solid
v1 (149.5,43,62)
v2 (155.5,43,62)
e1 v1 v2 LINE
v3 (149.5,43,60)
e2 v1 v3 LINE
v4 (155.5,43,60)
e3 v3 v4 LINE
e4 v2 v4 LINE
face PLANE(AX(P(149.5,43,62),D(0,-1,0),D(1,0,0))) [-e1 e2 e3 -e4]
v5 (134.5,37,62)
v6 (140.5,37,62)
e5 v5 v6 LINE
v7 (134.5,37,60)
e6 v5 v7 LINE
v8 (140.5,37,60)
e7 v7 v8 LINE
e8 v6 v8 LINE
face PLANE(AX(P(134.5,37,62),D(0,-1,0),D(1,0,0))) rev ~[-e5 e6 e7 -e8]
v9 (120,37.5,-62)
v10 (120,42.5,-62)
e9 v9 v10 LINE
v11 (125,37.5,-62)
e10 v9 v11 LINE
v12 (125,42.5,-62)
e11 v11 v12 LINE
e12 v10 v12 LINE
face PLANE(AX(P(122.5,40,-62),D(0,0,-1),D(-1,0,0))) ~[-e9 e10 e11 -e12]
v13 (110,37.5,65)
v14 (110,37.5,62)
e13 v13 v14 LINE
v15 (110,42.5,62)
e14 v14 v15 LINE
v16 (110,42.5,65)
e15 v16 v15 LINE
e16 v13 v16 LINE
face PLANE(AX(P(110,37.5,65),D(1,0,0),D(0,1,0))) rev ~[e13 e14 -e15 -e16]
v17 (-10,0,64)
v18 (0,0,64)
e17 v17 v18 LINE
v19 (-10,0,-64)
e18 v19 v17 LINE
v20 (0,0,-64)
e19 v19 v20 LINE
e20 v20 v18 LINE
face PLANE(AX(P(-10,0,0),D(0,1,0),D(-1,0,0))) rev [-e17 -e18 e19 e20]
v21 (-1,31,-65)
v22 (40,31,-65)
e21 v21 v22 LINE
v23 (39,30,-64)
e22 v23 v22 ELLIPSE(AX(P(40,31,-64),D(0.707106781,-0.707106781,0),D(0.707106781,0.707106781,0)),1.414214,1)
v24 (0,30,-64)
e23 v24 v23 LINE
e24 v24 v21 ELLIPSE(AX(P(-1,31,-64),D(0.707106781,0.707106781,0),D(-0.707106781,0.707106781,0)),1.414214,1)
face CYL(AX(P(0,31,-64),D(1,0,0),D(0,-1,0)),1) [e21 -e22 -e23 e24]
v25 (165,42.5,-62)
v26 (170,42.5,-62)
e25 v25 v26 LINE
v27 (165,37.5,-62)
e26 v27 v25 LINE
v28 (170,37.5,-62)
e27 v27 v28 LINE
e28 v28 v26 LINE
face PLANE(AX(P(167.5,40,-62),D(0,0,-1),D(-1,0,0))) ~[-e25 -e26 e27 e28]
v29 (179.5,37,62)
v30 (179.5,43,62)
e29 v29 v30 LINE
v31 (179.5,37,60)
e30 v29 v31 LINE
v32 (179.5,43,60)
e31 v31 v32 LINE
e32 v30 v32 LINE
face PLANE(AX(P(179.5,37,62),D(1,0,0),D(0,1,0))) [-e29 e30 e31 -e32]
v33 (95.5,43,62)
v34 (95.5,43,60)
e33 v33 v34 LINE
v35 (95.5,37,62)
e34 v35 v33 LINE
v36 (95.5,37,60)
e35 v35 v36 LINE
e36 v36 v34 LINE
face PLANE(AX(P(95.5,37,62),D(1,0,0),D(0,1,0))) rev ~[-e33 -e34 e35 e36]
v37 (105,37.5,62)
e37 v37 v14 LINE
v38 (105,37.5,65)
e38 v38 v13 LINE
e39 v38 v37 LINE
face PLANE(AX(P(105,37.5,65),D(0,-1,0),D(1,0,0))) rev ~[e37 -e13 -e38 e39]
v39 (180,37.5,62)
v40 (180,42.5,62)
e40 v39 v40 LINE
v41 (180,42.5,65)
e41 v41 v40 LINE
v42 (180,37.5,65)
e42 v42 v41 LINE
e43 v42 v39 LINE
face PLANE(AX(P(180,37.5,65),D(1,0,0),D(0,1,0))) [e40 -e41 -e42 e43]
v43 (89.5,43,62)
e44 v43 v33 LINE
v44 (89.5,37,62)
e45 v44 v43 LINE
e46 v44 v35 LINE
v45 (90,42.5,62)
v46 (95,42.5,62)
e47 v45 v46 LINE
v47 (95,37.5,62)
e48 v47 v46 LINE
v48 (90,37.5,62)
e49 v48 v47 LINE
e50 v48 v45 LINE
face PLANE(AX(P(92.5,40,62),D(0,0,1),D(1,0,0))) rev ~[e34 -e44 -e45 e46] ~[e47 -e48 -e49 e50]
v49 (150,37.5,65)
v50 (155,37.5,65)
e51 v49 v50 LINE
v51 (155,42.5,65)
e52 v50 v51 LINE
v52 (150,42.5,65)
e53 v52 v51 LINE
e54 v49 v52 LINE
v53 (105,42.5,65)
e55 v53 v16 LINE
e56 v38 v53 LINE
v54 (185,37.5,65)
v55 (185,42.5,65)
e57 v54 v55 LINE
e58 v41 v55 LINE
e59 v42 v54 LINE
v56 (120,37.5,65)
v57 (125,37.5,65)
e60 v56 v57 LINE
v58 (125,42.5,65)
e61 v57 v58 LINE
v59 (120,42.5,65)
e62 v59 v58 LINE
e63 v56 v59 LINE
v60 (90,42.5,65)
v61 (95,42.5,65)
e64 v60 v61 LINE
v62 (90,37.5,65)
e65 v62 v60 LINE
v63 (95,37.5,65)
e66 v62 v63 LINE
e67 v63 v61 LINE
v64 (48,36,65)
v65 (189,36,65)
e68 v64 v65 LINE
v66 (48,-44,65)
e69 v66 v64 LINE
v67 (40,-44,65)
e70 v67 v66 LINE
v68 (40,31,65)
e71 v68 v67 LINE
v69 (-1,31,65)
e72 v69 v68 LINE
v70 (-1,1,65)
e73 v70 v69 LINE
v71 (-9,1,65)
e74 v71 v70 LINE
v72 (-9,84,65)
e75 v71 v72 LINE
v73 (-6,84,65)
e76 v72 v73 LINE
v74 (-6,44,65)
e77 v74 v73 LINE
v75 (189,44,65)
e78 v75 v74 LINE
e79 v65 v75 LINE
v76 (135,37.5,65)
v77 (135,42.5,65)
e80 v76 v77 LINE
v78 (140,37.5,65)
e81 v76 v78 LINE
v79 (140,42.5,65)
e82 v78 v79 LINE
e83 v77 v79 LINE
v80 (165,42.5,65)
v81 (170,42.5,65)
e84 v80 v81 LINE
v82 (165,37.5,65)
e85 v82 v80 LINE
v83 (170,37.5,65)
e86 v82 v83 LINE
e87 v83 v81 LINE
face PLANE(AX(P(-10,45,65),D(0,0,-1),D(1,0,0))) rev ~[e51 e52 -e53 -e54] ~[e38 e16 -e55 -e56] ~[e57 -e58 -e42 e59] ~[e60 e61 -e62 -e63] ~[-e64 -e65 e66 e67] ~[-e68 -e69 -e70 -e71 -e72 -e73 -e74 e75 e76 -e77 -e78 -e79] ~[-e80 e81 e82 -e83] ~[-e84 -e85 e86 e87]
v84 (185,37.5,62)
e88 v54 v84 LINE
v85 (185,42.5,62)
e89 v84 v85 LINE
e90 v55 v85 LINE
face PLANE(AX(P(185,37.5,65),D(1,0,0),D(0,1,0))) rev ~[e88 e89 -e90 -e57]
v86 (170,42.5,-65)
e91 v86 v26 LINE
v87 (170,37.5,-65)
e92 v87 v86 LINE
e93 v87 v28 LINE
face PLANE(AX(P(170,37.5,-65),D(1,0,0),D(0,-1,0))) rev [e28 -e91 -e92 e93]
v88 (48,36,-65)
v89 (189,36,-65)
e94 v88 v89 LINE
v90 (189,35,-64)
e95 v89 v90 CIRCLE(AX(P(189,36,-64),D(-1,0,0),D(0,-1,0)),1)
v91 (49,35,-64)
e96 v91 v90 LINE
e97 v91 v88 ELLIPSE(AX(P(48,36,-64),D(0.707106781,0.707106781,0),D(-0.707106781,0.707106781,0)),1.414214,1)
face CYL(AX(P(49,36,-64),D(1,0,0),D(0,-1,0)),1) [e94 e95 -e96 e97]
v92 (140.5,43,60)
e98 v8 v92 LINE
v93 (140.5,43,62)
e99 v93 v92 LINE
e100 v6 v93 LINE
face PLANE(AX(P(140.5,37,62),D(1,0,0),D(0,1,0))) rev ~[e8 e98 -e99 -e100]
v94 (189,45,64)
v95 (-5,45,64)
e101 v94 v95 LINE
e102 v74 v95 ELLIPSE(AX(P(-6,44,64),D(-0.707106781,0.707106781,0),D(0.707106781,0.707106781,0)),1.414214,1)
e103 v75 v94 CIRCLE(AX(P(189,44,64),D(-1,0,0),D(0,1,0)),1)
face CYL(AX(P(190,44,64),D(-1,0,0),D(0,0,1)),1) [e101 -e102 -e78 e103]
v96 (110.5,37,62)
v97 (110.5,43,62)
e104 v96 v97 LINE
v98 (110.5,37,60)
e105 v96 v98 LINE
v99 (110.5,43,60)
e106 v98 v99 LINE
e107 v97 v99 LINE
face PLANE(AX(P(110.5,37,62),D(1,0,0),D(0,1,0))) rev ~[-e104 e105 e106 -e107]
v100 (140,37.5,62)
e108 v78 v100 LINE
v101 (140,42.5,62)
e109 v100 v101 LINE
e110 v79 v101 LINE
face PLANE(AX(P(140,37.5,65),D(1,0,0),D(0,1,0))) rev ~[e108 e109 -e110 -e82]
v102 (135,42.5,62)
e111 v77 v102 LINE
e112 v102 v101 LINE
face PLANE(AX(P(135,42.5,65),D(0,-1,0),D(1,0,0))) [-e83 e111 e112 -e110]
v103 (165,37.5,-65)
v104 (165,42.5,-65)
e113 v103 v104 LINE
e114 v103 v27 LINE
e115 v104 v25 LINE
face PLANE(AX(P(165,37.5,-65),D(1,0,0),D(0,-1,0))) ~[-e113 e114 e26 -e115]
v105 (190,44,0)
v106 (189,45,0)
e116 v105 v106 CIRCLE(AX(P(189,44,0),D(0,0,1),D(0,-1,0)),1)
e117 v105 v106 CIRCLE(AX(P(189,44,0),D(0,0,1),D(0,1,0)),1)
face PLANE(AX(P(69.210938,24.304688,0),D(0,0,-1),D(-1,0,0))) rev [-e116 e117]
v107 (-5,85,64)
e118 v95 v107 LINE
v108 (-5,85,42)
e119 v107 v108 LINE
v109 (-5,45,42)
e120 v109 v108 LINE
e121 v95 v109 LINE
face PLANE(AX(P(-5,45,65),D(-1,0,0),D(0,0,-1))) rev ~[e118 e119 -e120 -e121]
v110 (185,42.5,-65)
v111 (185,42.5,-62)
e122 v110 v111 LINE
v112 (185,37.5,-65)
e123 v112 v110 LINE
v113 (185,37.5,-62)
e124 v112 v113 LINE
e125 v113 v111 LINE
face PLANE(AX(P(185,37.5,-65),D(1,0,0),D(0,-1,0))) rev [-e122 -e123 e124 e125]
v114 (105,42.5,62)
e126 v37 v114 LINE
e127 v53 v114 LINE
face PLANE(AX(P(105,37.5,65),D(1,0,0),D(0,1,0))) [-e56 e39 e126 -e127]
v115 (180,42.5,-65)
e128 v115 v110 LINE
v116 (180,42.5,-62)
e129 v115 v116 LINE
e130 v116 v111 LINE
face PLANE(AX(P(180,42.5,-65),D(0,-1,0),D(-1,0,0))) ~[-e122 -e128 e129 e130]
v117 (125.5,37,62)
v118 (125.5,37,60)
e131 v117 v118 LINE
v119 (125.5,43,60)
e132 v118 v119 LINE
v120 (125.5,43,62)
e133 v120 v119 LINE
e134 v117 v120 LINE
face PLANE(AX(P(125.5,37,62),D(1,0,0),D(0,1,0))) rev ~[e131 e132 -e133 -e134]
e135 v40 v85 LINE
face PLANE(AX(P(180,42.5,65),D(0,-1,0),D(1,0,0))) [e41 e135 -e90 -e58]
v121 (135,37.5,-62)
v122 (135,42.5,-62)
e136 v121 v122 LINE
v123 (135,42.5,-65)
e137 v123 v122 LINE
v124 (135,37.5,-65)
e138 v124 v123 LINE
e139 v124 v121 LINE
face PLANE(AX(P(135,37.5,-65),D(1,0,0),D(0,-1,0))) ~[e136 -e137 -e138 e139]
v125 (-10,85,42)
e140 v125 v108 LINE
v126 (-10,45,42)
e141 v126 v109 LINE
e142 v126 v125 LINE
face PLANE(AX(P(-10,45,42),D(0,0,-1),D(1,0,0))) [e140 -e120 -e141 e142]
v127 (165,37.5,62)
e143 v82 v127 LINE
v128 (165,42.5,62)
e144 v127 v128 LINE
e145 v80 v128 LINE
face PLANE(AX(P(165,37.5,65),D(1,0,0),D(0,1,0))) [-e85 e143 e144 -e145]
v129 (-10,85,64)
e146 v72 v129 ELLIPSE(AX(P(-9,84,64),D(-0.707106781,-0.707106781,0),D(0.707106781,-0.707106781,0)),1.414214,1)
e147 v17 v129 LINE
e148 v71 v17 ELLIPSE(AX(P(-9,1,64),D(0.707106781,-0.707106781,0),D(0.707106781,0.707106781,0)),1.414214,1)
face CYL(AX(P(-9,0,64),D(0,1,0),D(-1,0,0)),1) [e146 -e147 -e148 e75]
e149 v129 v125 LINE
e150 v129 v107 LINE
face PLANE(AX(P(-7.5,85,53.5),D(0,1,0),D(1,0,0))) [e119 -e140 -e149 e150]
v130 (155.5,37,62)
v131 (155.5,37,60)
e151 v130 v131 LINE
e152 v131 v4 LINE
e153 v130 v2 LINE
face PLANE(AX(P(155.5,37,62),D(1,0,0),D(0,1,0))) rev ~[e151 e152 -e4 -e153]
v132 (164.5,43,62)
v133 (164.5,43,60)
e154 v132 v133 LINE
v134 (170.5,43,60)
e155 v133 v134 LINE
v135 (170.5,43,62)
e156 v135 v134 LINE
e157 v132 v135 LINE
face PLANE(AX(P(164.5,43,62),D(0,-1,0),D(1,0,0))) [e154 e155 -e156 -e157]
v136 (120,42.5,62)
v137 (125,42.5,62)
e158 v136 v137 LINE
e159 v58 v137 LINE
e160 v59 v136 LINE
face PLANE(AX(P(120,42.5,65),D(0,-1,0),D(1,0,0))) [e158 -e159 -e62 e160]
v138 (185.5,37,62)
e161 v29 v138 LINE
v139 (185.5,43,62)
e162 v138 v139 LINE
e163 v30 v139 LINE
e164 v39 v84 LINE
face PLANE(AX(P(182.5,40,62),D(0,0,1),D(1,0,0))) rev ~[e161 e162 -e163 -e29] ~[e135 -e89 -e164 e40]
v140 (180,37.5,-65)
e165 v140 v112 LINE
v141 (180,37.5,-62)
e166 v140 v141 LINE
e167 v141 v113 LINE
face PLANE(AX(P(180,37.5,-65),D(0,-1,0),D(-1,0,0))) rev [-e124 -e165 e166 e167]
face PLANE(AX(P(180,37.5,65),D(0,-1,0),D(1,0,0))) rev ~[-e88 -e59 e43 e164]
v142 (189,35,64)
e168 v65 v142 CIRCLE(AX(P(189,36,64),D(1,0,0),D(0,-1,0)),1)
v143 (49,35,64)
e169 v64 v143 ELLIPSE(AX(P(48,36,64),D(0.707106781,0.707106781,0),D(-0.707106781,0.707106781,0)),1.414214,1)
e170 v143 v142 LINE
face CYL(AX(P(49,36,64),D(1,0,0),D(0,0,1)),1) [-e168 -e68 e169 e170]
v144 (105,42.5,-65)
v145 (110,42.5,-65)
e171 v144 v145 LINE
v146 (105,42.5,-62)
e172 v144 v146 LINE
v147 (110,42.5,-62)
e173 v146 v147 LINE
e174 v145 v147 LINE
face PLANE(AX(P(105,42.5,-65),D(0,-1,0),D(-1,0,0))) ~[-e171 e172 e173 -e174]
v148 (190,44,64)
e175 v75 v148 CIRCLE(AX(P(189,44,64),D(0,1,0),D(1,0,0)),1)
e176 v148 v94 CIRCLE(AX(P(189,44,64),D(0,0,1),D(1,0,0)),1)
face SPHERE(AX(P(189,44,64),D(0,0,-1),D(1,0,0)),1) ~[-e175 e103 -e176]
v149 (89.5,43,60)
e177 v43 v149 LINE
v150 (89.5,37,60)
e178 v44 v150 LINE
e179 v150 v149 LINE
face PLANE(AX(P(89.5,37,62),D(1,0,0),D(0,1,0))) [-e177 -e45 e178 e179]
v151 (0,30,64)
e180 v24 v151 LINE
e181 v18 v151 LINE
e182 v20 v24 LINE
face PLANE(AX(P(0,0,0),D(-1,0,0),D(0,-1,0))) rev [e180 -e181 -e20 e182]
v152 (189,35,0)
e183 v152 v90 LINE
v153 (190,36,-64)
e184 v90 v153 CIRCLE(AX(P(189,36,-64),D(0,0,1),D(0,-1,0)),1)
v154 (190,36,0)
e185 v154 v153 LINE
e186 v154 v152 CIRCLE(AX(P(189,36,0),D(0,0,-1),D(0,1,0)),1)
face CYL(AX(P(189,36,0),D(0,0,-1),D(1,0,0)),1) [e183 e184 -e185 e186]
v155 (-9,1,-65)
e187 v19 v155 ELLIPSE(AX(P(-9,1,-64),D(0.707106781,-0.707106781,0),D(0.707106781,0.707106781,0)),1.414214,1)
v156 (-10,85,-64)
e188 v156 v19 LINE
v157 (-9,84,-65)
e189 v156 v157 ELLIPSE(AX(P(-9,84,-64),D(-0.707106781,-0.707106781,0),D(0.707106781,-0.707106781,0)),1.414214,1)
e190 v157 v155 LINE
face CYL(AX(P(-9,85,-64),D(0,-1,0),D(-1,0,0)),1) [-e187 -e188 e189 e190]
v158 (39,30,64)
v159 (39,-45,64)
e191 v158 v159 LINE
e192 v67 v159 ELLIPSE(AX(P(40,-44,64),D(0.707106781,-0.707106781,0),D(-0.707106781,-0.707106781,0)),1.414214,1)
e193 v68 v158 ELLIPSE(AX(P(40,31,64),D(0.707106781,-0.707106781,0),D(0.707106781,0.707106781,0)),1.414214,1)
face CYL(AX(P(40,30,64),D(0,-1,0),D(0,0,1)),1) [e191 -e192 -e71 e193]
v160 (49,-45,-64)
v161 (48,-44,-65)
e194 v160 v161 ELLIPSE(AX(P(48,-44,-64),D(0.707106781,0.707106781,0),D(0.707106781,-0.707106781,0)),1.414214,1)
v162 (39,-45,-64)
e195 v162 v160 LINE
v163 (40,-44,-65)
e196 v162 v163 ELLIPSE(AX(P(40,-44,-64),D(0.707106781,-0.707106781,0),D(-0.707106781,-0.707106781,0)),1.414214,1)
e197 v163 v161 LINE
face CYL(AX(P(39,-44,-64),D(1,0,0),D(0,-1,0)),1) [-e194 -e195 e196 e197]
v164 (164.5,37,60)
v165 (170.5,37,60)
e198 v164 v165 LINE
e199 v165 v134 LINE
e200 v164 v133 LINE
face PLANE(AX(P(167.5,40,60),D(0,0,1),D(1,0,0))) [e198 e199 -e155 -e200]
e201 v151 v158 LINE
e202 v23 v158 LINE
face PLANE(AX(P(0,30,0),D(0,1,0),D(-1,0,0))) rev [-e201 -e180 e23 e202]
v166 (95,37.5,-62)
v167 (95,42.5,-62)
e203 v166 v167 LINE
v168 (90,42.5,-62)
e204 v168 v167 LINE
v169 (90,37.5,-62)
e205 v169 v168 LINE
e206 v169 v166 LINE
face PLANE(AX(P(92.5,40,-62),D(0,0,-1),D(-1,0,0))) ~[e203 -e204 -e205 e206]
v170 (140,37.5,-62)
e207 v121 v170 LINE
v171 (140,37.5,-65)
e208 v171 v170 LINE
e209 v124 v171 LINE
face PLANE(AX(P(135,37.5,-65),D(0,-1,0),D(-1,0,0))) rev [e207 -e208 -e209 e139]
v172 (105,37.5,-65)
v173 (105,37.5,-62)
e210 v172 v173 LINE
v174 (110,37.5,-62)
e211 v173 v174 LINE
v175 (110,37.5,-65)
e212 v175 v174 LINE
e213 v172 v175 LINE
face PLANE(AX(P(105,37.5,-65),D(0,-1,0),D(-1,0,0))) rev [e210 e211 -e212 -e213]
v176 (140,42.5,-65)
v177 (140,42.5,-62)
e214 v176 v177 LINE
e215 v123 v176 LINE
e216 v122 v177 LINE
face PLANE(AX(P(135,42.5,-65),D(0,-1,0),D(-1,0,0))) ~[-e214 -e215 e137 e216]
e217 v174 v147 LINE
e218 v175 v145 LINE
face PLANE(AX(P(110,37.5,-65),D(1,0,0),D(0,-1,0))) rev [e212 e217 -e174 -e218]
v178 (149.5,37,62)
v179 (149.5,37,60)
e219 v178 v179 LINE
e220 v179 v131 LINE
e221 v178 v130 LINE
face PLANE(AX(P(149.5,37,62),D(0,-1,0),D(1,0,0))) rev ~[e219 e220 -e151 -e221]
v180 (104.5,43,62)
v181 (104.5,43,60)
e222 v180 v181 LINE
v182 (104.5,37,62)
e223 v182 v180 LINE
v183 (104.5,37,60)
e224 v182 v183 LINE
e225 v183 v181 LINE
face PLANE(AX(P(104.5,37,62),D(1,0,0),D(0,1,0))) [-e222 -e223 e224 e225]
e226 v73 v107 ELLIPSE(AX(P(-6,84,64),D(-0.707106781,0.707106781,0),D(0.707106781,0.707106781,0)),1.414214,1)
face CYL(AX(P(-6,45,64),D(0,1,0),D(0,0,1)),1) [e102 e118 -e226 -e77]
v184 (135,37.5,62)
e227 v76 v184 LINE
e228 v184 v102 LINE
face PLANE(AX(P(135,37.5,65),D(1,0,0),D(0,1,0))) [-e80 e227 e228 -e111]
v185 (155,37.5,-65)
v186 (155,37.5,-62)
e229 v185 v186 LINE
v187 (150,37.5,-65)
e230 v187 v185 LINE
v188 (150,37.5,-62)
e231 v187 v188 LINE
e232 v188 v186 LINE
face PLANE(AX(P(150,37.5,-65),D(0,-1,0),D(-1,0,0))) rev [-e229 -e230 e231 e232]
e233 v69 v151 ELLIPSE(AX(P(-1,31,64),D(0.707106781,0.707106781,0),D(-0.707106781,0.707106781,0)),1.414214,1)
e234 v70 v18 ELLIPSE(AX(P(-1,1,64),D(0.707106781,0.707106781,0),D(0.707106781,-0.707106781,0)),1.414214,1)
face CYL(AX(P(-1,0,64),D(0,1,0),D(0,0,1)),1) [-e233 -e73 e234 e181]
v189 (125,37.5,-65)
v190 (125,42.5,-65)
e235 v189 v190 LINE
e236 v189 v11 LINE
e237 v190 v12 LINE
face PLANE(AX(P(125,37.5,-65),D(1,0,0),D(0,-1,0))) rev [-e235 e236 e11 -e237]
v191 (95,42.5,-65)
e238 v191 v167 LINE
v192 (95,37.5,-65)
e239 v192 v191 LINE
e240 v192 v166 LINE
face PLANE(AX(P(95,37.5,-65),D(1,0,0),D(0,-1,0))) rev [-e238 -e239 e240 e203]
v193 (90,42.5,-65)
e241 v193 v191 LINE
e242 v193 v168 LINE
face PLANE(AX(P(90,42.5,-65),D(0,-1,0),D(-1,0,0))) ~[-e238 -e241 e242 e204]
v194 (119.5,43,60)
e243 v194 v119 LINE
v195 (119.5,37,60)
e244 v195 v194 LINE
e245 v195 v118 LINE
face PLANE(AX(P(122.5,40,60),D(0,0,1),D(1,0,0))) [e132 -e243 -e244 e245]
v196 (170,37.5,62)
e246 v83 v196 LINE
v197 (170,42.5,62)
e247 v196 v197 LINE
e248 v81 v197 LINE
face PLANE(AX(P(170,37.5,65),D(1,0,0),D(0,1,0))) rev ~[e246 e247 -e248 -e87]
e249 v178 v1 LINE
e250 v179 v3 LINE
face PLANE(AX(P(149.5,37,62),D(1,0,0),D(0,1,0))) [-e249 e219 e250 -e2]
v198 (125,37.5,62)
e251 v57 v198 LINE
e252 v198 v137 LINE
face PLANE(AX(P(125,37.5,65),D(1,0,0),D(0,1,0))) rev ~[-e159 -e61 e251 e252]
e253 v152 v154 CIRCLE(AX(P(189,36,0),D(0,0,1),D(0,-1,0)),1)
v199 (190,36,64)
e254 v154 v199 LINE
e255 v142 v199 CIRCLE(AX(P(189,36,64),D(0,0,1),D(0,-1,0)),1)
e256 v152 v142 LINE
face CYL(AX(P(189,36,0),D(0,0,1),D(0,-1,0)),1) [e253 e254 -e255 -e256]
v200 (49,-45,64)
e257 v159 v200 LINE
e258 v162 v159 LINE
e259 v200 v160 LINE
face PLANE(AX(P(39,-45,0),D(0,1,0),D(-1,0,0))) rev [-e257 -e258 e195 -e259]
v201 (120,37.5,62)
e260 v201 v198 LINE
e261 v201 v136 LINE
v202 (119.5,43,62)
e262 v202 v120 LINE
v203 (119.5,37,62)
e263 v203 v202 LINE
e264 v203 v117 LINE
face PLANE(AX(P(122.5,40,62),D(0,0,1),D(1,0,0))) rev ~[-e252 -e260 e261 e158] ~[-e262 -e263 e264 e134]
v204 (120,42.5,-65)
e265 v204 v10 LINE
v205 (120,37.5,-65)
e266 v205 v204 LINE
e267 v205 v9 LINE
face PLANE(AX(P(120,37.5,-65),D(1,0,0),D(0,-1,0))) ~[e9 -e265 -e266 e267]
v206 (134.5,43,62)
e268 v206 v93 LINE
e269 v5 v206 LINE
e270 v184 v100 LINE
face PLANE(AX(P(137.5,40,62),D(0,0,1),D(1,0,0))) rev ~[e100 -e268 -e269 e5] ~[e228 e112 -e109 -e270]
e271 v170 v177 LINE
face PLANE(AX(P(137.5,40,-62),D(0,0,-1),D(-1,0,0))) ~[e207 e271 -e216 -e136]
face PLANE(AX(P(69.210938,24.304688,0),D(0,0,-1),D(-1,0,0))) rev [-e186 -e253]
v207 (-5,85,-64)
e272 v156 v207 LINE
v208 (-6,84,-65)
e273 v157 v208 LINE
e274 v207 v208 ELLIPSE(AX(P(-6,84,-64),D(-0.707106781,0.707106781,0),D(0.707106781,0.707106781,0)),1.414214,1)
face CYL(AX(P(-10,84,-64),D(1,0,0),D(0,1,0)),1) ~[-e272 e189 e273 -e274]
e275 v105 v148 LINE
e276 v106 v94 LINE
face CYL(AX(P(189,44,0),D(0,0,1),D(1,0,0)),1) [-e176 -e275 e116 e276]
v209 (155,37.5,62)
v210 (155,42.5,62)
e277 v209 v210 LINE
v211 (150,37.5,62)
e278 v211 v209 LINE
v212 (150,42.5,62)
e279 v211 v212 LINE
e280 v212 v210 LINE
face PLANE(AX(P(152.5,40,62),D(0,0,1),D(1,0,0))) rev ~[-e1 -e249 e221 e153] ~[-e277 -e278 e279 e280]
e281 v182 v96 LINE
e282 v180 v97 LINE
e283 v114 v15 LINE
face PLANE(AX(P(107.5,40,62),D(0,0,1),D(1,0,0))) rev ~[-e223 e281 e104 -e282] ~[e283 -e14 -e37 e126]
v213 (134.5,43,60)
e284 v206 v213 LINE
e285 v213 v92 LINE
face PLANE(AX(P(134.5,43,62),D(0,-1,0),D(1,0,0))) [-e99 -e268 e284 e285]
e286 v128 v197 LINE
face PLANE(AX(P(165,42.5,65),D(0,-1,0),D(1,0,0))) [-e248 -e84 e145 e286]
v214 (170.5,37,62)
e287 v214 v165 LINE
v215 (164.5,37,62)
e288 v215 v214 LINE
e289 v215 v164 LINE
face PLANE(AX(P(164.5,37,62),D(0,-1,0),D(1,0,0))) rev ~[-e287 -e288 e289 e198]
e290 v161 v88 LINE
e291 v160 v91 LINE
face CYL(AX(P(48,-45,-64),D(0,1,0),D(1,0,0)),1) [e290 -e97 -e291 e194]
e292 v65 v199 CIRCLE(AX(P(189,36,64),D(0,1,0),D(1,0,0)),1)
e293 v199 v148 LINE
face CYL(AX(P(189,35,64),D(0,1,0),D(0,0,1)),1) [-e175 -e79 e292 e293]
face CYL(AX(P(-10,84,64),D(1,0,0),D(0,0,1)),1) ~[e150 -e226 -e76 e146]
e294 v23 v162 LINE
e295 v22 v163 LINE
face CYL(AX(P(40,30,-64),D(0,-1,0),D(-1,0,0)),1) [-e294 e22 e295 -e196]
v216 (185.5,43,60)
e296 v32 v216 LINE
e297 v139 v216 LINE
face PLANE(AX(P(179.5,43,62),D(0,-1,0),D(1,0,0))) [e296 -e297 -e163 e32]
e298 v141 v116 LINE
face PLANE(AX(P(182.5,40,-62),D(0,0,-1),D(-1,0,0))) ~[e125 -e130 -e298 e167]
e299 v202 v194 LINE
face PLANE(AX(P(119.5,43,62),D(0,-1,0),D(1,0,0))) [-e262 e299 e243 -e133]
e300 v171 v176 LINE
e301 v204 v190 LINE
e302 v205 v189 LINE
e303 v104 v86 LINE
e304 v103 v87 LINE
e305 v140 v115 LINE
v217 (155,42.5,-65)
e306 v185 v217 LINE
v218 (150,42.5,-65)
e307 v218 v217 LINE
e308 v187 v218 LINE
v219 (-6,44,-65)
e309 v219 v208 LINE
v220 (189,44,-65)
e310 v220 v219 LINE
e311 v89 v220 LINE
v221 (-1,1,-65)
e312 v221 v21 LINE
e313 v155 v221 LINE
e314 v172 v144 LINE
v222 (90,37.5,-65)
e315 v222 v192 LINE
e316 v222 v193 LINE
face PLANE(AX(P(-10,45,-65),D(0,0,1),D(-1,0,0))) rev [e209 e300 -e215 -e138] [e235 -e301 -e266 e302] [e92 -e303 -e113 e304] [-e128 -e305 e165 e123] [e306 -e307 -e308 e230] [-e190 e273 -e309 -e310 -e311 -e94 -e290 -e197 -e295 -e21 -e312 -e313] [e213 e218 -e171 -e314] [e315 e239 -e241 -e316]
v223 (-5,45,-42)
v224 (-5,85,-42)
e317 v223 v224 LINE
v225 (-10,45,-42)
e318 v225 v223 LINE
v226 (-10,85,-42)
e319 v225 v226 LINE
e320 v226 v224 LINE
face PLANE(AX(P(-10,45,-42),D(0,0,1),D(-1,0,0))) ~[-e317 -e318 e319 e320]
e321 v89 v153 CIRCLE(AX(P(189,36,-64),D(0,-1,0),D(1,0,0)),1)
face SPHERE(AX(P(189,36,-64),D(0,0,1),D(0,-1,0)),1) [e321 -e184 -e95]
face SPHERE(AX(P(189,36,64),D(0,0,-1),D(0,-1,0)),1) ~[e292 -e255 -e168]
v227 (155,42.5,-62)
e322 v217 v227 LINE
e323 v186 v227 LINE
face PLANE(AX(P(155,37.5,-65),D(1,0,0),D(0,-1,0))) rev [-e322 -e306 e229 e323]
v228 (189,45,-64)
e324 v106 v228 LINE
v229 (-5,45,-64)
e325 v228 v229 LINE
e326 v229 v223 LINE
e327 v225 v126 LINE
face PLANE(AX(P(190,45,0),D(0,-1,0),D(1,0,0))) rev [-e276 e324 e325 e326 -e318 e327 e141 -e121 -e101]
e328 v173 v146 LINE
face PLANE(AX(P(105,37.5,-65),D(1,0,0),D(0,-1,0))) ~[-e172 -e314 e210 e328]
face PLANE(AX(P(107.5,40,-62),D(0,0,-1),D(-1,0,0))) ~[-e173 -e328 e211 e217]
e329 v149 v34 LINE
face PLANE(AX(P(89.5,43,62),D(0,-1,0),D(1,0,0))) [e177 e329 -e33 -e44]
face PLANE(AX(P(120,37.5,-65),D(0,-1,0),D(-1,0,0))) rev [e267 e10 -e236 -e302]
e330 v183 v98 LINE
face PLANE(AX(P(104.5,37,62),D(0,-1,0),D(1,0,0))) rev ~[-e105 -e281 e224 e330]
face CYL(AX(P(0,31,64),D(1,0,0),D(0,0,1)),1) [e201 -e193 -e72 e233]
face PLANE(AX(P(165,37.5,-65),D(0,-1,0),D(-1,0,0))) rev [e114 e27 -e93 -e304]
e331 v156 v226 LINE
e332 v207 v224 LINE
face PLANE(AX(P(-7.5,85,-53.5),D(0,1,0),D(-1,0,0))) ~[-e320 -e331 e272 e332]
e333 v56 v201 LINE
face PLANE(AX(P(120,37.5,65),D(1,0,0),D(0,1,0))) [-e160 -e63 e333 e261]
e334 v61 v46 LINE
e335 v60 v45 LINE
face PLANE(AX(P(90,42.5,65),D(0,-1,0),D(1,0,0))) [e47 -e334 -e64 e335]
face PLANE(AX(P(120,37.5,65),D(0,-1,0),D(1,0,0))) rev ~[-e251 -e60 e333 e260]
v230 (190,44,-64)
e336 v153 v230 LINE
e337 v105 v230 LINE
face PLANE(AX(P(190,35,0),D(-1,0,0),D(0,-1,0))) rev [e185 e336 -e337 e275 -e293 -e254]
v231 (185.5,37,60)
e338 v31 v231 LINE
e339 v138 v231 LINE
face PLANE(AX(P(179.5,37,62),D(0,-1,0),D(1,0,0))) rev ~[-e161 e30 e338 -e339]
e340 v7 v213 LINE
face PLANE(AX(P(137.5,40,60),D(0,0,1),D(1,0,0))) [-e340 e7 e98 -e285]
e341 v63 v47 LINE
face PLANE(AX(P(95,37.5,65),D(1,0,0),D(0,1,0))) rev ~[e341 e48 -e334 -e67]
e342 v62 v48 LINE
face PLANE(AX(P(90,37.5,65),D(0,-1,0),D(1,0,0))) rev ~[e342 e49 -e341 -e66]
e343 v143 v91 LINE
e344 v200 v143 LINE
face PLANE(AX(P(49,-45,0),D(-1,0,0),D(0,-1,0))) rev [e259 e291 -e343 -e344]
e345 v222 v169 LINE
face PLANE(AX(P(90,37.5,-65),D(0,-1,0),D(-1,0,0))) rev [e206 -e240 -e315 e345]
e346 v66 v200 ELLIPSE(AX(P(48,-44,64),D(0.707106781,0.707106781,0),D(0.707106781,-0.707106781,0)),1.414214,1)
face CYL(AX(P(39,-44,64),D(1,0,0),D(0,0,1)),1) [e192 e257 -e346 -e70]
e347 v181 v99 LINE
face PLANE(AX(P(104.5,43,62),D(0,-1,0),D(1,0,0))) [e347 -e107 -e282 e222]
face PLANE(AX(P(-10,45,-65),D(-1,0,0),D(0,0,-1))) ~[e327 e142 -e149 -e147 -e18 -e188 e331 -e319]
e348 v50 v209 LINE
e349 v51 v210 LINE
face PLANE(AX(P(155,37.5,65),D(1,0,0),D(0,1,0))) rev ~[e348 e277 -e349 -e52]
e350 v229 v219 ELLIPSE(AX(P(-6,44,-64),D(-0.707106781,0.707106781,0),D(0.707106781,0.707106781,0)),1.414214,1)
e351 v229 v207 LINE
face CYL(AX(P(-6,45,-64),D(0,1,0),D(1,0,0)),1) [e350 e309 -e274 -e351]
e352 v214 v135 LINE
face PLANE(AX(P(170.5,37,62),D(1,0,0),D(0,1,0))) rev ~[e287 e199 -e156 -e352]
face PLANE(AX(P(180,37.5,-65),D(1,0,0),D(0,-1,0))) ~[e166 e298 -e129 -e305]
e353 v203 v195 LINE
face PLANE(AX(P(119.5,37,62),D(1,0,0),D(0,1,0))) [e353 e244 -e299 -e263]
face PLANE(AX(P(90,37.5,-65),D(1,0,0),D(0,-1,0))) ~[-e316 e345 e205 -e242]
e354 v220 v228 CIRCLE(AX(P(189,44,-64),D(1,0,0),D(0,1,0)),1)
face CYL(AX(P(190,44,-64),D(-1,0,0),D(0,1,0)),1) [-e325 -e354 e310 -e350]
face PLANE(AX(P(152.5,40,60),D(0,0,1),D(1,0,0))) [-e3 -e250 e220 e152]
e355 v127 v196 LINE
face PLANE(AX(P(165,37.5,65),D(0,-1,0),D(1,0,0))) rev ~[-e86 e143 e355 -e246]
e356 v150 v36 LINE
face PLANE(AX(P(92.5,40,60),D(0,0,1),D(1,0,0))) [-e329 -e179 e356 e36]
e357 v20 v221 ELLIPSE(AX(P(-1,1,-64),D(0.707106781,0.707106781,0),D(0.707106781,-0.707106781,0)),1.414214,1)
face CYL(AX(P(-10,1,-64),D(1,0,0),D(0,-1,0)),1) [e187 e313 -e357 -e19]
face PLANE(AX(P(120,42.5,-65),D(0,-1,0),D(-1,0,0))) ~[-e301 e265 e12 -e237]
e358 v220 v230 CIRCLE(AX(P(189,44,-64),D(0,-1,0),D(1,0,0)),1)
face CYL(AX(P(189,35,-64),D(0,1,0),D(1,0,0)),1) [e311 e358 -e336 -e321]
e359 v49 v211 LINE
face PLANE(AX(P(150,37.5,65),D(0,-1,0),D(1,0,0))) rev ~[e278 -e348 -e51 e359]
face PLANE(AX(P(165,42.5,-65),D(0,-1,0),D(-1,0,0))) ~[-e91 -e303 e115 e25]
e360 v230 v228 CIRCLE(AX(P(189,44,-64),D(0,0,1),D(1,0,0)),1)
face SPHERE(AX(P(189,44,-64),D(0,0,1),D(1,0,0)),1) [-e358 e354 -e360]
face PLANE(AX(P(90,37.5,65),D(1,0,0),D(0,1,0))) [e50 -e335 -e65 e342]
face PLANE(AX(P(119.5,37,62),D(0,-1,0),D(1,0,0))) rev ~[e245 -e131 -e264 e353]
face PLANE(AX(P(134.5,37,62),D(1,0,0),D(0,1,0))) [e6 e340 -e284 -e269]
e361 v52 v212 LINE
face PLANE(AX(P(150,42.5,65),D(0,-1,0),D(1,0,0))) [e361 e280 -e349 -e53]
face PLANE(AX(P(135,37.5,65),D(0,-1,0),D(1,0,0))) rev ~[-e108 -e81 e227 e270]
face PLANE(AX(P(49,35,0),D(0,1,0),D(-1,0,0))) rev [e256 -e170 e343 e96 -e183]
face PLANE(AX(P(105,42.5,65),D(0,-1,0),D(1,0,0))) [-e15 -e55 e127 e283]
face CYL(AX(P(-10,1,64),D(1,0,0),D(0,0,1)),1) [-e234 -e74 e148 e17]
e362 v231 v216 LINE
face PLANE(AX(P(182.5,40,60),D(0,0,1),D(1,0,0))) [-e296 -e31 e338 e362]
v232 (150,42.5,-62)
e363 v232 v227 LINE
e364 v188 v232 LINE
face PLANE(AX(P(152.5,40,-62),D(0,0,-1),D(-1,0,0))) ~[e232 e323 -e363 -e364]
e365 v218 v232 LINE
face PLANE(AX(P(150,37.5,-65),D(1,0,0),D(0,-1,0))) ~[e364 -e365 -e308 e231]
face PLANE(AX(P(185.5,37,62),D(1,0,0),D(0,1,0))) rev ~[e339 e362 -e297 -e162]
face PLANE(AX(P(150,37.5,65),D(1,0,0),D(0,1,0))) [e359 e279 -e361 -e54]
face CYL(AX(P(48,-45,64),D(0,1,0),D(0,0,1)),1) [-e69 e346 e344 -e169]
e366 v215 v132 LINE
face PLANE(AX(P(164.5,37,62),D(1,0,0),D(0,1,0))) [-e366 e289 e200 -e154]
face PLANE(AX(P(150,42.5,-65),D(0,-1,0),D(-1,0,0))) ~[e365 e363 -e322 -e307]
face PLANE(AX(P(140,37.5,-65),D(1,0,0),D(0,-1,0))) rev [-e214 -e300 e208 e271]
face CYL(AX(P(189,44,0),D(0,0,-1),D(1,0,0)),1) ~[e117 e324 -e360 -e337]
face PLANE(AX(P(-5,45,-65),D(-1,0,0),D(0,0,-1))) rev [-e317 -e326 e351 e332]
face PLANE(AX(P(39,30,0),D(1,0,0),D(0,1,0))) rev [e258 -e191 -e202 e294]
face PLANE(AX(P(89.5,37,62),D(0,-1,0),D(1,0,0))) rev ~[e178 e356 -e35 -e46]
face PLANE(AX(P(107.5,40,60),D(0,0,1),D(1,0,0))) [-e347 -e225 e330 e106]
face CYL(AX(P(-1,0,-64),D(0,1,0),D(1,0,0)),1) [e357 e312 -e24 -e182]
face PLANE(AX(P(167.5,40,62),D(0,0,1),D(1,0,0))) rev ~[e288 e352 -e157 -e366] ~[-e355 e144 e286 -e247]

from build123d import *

# Parameters (mm, degrees)
EXTRUDE_1_DEPTH        = 65
SKETCH_5_W             = 5
SKETCH_5_H             = 5
CUT_EXTRUDE_1_DEPTH    = 3
SKETCH_7_W             = 5
SKETCH_7_H             = 23
EXTRUDE_2_DEPTH        = 40
FILLET_1_R             = 1
SKETCH_8_W             = 6
SKETCH_8_H             = 6
CUT_EXTRUDE_2_DEPTH    = 2
FILLET_1_OF_MIRROR_3_R = 1


with BuildPart() as part:
    # 草图1 → 凸台-拉伸1 (new body)
    with BuildSketch(Plane.XY):
        Polygon((190, 35), (190, 45), (-10, 45), (-10, 0), (0, 0), (0, 30), (39, 30), (39, -45), (49, -45), (49, 35), align=None)
    extrude_1 = extrude(amount=EXTRUDE_1_DEPTH)

    # 草图5 → 切除-拉伸1 (cut)
    with BuildSketch(Plane.XY.offset(65)):
        with Locations((167.5, 40)):
            Rectangle(SKETCH_5_W, SKETCH_5_H)
        with Locations((182.5, 40)):
            Rectangle(SKETCH_5_W, SKETCH_5_H)
        with Locations((152.5, 40)):
            Rectangle(SKETCH_5_W, SKETCH_5_H)
        with Locations((137.5, 40)):
            Rectangle(SKETCH_5_W, SKETCH_5_H)
        with Locations((122.5, 40)):
            Rectangle(SKETCH_5_W, SKETCH_5_H)
        with Locations((107.5, 40)):
            Rectangle(SKETCH_5_W, SKETCH_5_H)
        with Locations((92.5, 40)):
            Rectangle(SKETCH_5_W, SKETCH_5_H)
    cut_extrude_1 = extrude(amount=-CUT_EXTRUDE_1_DEPTH, mode=Mode.SUBTRACT)

    # 草图7 → 凸台-拉伸2 (add)
    with BuildSketch(Plane(origin=(0, 45, 0), x_dir=(1, 0, 0), z_dir=(0, 1, 0))):
        with Locations((-7.5, -53.5)):
            Rectangle(SKETCH_7_W, SKETCH_7_H)
    extrude_2 = extrude(amount=EXTRUDE_2_DEPTH)

    # 圆角1
    fillet_1_edges = [part.edges().sort_by_distance(p)[0] for p in [
        (-5, 65, 65),
        (-7.5, 85, 65),
        (-5, 0, 65),
        (0, 15, 65),
        (190, 45, 32.5),
        (190, 35, 32.5),
        (19.5, 30, 65),
        (39, -7.5, 65),
        (44, -45, 65),
        (49, -5, 65),
        (119.5, 35, 65),
        (190, 40, 65),
        (92.5, 45, 65),
        (-10, 42.5, 65),
    ]]
    fillet(fillet_1_edges, radius=FILLET_1_R)

    # 草图8 → 切除-拉伸2 (cut)
    with BuildSketch(Plane.XY.offset(62)):
        with Locations((182.5, 40)):
            Rectangle(SKETCH_8_W, SKETCH_8_H)
        with Locations((167.5, 40)):
            Rectangle(SKETCH_8_W, SKETCH_8_H)
        with Locations((152.5, 40)):
            Rectangle(SKETCH_8_W, SKETCH_8_H)
        with Locations((137.5, 40)):
            Rectangle(SKETCH_8_W, SKETCH_8_H)
        with Locations((122.5, 40)):
            Rectangle(SKETCH_8_W, SKETCH_8_H)
        with Locations((107.5, 40)):
            Rectangle(SKETCH_8_W, SKETCH_8_H)
        with Locations((92.5, 40)):
            Rectangle(SKETCH_8_W, SKETCH_8_H)
    extrude(amount=-CUT_EXTRUDE_2_DEPTH, mode=Mode.SUBTRACT)

    # 镜向3: 凸台-拉伸1, 切除-拉伸1, 凸台-拉伸2 across plane
    add(extrude_1.mirror(Plane.XY))
    add(cut_extrude_1.mirror(Plane.XY), mode=Mode.SUBTRACT)
    add(extrude_2.mirror(Plane.XY))

    # 圆角1 of 镜向3
    fillet_1_of_mirror_3_edges = [part.edges().sort_by_distance(p)[0] for p in [
        (-5, 65, -65),
        (-7.5, 85, -65),
        (-5, 0, -65),
        (0, 15, -65),
        (190, 45, -32.5),
        (190, 35, -32.5),
        (19.5, 30, -65),
        (39, -7.5, -65),
        (44, -45, -65),
        (49, -5, -65),
        (119.5, 35, -65),
        (190, 40, -65),
        (92.5, 45, -65),
        (-10, 42.5, -65),
    ]]
    fillet(fillet_1_of_mirror_3_edges, radius=FILLET_1_OF_MIRROR_3_R)


solid = part.part
